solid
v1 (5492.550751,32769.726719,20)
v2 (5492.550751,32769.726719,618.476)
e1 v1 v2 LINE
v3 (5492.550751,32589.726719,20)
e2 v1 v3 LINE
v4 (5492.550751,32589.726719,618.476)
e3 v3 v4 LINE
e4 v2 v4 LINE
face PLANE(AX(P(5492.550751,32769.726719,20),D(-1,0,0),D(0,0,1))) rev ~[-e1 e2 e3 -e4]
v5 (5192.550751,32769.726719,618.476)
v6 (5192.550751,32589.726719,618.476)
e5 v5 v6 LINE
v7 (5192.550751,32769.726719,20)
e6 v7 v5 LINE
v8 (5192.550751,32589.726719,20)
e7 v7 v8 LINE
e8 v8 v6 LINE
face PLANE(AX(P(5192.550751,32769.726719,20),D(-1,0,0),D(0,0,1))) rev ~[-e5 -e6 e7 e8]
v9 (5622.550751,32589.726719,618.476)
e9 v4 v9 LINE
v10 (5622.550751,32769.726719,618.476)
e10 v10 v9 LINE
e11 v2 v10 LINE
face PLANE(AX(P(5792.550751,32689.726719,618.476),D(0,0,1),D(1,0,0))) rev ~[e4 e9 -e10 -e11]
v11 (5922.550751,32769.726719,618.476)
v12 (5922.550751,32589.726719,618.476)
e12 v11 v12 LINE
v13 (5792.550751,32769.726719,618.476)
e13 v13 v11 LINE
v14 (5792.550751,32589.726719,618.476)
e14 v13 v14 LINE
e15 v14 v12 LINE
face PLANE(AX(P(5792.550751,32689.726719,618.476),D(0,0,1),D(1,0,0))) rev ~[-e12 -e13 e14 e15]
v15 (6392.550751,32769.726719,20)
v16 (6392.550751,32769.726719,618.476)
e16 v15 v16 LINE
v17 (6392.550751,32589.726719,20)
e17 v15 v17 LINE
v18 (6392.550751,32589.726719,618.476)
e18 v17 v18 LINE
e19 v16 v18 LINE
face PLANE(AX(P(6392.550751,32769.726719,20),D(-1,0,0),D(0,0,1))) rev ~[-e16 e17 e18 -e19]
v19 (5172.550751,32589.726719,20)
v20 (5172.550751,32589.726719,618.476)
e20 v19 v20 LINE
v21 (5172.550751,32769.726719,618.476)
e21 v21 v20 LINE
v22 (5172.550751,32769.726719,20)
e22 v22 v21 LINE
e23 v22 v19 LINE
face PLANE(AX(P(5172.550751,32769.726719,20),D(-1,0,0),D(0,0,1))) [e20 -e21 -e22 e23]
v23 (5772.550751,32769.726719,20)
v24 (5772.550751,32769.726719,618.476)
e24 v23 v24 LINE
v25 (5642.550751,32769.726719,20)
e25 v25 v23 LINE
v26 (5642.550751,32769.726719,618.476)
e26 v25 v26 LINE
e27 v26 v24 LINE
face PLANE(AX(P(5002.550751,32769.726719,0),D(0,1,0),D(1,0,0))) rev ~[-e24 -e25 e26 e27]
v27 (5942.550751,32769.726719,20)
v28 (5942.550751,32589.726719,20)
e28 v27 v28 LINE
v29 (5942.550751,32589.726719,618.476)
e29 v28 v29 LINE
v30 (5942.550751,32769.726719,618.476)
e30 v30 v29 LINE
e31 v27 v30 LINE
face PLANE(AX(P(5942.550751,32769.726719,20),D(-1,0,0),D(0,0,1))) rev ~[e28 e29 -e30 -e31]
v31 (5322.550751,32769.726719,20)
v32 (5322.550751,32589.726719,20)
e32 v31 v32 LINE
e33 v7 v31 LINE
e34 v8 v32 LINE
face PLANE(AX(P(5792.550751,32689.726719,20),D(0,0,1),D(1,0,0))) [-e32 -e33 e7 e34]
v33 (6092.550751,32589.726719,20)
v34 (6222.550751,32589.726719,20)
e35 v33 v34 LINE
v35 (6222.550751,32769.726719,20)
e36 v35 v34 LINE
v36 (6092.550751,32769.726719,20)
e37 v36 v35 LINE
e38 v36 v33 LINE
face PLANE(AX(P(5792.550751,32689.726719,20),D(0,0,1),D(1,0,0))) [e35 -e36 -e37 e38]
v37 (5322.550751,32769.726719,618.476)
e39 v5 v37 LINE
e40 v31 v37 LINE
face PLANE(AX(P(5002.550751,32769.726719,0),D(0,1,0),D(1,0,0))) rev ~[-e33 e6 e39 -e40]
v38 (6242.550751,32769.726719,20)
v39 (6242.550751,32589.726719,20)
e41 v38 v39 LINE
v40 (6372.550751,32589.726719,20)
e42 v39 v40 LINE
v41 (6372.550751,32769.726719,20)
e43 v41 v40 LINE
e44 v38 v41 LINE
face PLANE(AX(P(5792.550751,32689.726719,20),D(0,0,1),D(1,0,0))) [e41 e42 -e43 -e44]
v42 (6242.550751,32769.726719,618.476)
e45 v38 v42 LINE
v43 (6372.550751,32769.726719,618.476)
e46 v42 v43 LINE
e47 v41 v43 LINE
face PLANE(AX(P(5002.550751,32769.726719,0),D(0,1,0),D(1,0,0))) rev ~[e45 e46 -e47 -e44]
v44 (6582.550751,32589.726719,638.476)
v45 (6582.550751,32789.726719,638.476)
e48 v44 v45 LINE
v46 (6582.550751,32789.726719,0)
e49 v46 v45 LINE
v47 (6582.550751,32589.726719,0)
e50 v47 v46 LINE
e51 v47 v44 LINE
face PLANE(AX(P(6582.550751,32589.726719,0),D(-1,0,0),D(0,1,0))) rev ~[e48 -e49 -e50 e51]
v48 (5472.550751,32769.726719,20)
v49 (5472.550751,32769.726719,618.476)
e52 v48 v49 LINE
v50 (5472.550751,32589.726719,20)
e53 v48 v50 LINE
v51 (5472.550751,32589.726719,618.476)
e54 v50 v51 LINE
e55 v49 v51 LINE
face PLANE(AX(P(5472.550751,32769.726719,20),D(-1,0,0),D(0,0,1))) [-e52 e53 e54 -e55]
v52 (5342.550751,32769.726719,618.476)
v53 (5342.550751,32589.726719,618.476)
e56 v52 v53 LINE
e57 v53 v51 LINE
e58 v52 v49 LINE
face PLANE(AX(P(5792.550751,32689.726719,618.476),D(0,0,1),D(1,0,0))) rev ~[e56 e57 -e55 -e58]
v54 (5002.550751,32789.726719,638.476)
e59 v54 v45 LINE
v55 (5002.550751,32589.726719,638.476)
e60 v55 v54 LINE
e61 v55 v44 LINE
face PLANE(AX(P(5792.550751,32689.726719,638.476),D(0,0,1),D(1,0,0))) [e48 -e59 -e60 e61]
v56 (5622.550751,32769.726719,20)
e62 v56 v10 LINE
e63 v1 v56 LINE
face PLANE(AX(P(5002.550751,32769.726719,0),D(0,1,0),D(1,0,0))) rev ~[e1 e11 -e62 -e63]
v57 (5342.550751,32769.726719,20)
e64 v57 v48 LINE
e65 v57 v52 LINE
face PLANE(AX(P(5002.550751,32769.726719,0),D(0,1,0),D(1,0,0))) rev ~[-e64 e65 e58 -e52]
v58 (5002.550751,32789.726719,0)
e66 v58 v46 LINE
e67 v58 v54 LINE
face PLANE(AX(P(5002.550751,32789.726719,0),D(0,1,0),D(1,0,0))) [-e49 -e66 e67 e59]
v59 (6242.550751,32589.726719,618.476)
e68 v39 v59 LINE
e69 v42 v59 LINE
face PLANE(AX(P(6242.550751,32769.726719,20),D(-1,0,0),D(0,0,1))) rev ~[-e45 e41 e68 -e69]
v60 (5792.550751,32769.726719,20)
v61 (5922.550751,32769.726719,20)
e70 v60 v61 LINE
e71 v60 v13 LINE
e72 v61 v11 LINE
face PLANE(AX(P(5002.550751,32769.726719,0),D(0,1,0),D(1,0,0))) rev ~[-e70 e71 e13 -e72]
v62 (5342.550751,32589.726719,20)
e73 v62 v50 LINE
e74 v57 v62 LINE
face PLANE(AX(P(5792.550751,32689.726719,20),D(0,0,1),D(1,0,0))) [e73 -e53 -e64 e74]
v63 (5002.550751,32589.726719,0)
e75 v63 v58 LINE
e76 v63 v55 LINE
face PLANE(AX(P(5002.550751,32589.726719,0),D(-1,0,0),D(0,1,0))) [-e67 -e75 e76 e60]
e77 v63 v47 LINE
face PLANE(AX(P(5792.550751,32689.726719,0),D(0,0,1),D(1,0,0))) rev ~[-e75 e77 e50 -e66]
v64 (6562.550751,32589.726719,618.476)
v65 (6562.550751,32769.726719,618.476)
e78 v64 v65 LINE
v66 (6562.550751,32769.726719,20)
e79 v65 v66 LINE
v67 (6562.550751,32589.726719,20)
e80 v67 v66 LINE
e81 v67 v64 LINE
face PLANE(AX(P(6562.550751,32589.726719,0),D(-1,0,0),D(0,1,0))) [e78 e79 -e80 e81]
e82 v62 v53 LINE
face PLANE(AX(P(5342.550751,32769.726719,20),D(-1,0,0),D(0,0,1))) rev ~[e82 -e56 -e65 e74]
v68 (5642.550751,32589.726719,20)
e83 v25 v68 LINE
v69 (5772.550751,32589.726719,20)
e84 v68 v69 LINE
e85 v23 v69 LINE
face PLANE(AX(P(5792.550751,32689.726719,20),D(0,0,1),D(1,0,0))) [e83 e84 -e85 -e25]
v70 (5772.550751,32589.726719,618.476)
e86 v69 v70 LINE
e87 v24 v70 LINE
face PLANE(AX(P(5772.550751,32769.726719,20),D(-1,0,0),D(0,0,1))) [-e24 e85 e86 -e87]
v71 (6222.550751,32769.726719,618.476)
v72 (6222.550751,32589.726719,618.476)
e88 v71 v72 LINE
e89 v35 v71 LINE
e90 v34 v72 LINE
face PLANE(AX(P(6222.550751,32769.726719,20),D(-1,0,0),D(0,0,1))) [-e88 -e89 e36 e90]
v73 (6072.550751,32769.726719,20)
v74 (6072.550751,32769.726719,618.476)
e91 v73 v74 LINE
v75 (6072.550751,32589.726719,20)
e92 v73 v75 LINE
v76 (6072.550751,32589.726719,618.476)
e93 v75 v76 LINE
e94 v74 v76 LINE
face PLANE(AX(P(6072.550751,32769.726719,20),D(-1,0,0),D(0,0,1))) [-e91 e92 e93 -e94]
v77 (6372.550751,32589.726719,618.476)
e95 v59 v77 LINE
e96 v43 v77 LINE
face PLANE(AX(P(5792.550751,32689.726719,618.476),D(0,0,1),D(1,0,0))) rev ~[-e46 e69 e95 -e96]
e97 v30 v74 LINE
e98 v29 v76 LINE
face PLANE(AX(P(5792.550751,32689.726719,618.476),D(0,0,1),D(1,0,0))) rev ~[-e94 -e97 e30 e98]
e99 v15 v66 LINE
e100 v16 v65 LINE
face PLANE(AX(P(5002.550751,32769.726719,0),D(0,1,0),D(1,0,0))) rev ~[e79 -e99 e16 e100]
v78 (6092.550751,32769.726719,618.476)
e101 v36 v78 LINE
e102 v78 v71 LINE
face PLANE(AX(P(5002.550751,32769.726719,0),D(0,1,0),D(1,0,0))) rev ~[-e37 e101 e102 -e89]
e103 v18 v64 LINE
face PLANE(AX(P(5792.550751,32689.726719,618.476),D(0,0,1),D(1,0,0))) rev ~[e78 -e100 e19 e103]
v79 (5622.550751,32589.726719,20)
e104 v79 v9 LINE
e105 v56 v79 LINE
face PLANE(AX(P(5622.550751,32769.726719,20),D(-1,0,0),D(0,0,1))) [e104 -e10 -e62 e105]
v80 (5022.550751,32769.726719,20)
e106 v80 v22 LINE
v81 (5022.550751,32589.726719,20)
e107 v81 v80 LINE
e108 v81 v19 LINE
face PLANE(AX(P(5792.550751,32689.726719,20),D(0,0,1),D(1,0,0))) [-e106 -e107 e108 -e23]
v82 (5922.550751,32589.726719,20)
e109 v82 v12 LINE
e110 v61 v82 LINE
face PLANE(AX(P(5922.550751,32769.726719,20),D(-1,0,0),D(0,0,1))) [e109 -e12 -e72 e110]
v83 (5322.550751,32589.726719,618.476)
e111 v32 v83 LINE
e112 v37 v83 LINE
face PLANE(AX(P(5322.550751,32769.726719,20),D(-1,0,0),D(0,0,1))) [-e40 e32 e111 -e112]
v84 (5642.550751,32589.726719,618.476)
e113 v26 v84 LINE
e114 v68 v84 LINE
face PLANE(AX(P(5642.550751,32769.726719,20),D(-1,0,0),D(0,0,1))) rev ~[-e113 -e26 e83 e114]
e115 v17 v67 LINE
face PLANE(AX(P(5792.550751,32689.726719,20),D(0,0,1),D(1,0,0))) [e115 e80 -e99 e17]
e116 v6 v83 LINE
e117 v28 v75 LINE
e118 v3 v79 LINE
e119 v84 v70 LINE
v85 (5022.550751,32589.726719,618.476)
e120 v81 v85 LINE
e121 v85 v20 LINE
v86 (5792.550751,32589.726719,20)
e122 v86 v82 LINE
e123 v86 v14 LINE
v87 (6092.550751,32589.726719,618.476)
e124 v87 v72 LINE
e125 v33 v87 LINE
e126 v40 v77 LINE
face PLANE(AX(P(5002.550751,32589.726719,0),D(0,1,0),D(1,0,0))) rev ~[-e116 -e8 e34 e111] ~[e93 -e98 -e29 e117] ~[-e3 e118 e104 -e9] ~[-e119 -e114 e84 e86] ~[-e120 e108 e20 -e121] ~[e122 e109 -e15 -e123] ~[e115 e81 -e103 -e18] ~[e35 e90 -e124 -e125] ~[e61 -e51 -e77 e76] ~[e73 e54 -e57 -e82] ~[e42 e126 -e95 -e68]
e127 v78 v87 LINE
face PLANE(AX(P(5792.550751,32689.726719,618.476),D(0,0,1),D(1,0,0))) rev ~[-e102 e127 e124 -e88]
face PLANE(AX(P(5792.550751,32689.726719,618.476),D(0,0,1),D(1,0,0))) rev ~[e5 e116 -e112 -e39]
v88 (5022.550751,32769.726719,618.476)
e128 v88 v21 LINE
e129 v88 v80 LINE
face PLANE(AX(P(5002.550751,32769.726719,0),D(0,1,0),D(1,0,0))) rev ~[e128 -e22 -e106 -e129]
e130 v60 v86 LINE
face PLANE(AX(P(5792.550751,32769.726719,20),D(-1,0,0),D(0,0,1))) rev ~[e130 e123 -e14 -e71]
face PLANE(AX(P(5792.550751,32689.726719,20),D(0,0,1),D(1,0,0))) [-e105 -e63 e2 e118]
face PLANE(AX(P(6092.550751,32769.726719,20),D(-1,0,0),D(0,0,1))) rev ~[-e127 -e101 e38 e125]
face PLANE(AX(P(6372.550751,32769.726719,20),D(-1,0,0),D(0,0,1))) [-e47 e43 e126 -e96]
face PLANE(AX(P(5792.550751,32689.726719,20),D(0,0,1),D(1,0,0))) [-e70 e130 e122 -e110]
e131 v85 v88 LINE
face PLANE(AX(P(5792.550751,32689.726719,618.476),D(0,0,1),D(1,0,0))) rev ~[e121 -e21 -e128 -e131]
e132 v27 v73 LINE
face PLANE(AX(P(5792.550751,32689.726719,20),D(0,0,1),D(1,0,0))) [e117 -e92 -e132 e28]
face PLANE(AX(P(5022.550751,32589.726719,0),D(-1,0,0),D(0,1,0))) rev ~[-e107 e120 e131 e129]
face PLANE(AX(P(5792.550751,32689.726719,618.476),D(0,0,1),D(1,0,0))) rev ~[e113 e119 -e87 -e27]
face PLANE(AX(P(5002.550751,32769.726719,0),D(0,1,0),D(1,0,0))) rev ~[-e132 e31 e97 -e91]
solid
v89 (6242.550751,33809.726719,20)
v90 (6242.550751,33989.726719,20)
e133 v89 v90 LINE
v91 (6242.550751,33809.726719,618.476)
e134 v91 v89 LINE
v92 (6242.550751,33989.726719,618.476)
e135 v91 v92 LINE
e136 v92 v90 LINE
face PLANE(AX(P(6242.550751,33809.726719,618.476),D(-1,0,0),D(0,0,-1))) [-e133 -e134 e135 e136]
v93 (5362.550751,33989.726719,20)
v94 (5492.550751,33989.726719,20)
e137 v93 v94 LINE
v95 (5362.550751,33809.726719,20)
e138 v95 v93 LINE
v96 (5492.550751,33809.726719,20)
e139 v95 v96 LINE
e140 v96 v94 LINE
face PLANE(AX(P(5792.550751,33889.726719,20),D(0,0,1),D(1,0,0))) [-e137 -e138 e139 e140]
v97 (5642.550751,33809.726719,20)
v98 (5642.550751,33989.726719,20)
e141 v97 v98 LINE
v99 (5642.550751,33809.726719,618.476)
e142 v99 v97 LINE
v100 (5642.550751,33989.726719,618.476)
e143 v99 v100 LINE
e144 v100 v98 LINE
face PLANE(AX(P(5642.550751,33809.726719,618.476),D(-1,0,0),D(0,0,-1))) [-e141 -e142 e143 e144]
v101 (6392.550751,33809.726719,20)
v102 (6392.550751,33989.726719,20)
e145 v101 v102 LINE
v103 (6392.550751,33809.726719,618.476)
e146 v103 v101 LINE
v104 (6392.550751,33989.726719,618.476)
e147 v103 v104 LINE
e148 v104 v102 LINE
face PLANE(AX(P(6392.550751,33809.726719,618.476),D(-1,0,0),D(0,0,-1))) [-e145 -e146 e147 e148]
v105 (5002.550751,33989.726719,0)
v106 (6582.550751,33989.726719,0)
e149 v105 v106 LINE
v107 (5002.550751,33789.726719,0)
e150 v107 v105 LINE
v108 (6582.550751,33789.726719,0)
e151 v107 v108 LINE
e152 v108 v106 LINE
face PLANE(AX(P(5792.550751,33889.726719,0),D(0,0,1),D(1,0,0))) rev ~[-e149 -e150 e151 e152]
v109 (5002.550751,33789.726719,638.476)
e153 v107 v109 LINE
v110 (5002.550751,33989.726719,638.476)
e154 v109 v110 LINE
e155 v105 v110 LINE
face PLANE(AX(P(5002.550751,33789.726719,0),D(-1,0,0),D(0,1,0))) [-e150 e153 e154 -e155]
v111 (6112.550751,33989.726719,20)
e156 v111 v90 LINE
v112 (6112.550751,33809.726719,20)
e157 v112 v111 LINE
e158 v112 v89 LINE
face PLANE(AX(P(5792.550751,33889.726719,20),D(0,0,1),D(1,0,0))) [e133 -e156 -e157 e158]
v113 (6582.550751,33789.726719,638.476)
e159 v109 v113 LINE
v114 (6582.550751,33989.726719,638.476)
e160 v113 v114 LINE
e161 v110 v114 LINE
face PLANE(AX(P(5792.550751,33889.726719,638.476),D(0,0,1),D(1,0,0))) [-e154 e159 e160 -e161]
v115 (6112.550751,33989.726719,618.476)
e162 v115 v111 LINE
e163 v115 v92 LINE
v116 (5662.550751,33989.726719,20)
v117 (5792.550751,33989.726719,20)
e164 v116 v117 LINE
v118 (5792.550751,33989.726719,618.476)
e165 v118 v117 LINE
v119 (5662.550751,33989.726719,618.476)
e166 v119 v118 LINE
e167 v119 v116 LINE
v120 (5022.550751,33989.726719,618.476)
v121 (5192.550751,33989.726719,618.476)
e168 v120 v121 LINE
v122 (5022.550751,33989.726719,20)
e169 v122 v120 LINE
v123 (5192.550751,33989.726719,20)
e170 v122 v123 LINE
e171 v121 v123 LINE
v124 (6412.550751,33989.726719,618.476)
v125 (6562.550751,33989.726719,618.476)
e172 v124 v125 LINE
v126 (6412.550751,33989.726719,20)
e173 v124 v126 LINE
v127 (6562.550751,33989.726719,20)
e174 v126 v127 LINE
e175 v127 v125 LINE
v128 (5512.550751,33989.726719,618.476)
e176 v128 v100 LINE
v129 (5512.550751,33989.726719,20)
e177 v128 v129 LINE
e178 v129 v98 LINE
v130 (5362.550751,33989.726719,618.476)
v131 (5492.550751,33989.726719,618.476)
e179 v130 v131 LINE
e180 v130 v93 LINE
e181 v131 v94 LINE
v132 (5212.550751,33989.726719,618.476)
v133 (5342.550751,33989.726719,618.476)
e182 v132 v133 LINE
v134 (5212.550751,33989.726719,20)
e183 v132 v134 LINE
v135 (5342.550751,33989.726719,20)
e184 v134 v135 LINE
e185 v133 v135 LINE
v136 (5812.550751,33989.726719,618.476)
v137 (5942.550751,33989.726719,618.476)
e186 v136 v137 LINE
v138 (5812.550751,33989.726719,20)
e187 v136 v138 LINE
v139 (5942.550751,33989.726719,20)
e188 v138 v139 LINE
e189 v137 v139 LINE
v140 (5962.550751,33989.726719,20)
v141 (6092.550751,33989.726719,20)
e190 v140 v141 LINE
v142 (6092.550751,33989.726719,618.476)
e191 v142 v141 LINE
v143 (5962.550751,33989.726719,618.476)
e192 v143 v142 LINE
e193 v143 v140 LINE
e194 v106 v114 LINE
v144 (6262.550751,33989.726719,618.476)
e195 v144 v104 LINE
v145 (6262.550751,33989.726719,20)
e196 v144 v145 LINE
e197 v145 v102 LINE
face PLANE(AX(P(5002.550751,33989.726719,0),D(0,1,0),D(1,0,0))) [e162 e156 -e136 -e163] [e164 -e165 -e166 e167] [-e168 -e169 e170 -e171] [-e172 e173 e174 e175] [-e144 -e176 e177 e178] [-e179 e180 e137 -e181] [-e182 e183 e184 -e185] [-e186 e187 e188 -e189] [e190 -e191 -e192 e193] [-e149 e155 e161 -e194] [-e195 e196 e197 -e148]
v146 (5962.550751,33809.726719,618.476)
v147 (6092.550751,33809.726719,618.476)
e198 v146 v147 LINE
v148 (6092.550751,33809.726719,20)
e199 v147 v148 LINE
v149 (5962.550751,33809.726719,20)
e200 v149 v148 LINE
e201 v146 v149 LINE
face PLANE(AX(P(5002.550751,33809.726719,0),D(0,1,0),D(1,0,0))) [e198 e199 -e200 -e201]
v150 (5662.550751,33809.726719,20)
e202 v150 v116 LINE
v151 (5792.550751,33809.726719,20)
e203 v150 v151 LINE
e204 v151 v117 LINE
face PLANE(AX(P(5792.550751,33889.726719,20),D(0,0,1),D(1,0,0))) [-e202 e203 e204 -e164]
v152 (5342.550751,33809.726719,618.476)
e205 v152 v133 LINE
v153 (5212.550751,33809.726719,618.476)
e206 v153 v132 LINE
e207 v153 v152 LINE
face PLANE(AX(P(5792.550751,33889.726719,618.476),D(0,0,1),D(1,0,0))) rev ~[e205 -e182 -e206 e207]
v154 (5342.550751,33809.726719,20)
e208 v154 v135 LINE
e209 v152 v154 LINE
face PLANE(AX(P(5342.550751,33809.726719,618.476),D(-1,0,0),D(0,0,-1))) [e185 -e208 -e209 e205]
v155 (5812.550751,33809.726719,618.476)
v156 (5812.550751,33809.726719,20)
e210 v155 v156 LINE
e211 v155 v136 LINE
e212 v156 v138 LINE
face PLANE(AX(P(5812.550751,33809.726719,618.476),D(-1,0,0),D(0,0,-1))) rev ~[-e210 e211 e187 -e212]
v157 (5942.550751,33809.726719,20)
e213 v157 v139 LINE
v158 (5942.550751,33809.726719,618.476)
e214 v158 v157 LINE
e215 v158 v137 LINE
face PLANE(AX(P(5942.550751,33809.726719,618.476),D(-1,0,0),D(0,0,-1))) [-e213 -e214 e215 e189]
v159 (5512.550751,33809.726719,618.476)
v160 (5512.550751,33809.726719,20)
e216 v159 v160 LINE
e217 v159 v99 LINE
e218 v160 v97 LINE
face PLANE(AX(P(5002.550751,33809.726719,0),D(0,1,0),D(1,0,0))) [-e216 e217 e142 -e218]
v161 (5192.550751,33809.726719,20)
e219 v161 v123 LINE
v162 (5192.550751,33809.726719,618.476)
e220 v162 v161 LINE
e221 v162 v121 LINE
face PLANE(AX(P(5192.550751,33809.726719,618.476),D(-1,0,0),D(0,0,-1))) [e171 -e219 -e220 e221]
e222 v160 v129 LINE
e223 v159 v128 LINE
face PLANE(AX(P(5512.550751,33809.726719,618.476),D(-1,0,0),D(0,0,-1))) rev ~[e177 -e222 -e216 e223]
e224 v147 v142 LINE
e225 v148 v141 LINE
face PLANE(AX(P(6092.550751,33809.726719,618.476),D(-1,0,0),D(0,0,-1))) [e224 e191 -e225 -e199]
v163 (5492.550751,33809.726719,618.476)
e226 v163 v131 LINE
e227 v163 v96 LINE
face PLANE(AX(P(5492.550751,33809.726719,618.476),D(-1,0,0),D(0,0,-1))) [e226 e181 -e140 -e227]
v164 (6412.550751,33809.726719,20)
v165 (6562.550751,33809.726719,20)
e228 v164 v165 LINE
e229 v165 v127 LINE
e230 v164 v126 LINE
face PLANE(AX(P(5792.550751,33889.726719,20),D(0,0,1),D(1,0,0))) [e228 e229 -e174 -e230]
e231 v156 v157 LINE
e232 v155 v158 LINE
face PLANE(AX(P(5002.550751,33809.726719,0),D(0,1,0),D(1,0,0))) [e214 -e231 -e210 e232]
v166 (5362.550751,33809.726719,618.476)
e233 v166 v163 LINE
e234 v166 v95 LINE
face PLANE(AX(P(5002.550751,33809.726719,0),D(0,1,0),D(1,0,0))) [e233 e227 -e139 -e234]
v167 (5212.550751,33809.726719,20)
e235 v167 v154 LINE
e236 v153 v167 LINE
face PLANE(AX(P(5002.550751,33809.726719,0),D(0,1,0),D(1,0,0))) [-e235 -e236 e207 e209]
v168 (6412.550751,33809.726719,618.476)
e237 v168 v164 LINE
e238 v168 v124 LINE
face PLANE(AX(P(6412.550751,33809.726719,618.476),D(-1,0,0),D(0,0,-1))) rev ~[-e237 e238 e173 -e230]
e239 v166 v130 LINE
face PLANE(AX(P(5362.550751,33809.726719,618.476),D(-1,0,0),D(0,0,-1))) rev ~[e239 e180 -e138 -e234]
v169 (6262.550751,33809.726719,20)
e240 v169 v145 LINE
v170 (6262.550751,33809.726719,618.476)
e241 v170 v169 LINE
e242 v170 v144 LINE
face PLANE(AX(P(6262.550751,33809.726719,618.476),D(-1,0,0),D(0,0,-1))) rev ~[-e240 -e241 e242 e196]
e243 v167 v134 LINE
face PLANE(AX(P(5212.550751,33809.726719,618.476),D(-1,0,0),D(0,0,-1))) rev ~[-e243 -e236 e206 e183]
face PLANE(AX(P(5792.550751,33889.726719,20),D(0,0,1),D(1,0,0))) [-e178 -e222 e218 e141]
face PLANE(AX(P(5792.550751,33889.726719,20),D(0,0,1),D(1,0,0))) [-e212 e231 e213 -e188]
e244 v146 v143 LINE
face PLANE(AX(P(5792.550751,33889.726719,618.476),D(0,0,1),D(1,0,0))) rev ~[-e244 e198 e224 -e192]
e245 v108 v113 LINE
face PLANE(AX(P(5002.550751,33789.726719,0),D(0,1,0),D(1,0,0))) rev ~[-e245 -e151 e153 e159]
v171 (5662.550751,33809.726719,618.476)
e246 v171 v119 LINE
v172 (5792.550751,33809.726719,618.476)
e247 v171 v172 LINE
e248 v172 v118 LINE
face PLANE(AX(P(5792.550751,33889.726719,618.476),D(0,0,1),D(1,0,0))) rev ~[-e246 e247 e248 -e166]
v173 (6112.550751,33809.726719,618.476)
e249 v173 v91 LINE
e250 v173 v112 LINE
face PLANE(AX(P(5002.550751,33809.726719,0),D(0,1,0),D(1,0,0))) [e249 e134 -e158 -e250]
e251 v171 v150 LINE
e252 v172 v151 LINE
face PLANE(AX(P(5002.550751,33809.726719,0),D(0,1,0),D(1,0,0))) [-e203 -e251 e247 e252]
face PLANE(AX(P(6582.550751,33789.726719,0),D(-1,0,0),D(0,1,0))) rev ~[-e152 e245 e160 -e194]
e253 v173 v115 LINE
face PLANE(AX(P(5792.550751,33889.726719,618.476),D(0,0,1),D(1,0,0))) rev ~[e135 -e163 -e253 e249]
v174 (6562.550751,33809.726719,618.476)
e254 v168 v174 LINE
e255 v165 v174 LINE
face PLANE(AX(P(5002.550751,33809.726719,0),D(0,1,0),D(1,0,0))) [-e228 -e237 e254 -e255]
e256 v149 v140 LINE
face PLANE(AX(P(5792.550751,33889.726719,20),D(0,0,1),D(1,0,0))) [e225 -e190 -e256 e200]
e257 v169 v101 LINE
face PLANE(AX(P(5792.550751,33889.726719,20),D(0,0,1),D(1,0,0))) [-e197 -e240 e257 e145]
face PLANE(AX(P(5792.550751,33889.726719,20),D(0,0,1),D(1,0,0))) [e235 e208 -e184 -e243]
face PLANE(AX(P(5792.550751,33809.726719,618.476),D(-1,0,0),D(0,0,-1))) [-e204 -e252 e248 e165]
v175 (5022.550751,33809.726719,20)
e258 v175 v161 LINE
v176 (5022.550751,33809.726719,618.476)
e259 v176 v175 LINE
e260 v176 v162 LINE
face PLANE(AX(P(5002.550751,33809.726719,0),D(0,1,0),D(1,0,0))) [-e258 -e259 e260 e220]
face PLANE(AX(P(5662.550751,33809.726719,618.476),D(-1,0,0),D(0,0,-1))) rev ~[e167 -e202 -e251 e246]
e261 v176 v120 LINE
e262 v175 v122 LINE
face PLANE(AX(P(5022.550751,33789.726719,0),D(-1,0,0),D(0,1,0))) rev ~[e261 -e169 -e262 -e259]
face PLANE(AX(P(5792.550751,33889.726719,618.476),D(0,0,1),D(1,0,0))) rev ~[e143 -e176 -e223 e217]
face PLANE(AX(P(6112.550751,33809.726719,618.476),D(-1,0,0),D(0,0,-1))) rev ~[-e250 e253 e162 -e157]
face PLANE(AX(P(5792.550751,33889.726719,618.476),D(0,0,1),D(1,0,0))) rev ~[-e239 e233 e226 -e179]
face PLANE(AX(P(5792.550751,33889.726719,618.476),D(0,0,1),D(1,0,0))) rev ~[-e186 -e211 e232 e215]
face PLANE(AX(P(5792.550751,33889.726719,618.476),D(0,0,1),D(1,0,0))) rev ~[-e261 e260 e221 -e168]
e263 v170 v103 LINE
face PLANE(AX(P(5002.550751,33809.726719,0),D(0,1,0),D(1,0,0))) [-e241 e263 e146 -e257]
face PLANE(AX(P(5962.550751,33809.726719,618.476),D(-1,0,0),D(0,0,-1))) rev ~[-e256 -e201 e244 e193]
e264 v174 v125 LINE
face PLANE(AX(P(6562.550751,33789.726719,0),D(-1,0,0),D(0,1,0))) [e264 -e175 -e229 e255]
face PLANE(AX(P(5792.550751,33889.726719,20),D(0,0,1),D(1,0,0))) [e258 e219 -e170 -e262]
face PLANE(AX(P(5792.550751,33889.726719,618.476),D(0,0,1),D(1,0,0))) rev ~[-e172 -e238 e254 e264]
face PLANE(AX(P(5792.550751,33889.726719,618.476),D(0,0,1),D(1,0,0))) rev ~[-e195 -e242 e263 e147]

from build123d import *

# Parameters (mm, degrees)
SKETCH2_W        = 1580
SKETCH2_H        = 200
EXTRUDE1_DEPTH   = 638.476
EXTRUDE1_2_DEPTH = 638.476
SHELL1_T         = -20
SHELL2_T         = -20
SKETCH3_W        = 20
SKETCH3_H        = 598.476
EXTRUDE2_DEPTH   = 180
LPATTERN1_COUNT  = 9
LPATTERN1_PITCH  = 150
SKETCH4_W        = 20
SKETCH4_H        = 598.476
EXTRUDE3_DEPTH   = 180
LPATTERN2_COUNT  = 9
LPATTERN2_PITCH  = 150


with BuildPart() as part:
    # Sketch2 → Extrude1 (new body)
    with BuildSketch(Plane.XY):
        with Locations((5792.550750519, 33889.726718834)):
            Rectangle(SKETCH2_W, SKETCH2_H)
    extrude(amount=EXTRUDE1_DEPTH)

    # Shell2
    shell2_openings = [part.faces().sort_by_distance(p)[0] for p in [
        (5792.550750519, 33989.726718834, 319.238),
    ]]
    offset(amount=SHELL2_T, openings=shell2_openings, kind=Kind.INTERSECTION)

    # Sketch4 → Extrude3 (add)
    with BuildSketch(Plane(origin=(0, 33809.726718834, 0), x_dir=(1, 0, 0), z_dir=(0, 1, 0))):
        with Locations((6402.550750519, -319.238)):
            Rectangle(SKETCH4_W, SKETCH4_H)
    extrude3 = extrude(amount=EXTRUDE3_DEPTH)

    # LPattern2: Extrude3 ×9
    with Locations(*[(-i * LPATTERN2_PITCH, 0, 0) for i in range(1, LPATTERN2_COUNT)]):
        add(extrude3)


with BuildPart() as body_2:
    # Sketch2 → Extrude1 2 (new body)
    with BuildSketch(Plane.XY):
        with Locations((5792.550750519, 32689.726718834)):
            Rectangle(SKETCH2_W, SKETCH2_H)
    extrude(amount=EXTRUDE1_2_DEPTH)

    # Shell1
    shell1_openings = [body_2.faces().sort_by_distance(p)[0] for p in [
        (5792.550750519, 32589.726718834, 319.238),
    ]]
    offset(amount=SHELL1_T, openings=shell1_openings, kind=Kind.INTERSECTION)

    # Sketch3 → Extrude2 (add)
    with BuildSketch(Plane(origin=(0, 32769.726718834, 0), x_dir=(1, 0, 0), z_dir=(0, -1, 0))):
        with Locations((5182.550750519, 319.238)):
            Rectangle(SKETCH3_W, SKETCH3_H)
    extrude2 = extrude(amount=EXTRUDE2_DEPTH)

    # LPattern1: Extrude2 ×9
    with Locations(*[(i * LPATTERN1_PITCH, 0, 0) for i in range(1, LPATTERN1_COUNT)]):
        add(extrude2)


solid = Compound([part.part, body_2.part])
